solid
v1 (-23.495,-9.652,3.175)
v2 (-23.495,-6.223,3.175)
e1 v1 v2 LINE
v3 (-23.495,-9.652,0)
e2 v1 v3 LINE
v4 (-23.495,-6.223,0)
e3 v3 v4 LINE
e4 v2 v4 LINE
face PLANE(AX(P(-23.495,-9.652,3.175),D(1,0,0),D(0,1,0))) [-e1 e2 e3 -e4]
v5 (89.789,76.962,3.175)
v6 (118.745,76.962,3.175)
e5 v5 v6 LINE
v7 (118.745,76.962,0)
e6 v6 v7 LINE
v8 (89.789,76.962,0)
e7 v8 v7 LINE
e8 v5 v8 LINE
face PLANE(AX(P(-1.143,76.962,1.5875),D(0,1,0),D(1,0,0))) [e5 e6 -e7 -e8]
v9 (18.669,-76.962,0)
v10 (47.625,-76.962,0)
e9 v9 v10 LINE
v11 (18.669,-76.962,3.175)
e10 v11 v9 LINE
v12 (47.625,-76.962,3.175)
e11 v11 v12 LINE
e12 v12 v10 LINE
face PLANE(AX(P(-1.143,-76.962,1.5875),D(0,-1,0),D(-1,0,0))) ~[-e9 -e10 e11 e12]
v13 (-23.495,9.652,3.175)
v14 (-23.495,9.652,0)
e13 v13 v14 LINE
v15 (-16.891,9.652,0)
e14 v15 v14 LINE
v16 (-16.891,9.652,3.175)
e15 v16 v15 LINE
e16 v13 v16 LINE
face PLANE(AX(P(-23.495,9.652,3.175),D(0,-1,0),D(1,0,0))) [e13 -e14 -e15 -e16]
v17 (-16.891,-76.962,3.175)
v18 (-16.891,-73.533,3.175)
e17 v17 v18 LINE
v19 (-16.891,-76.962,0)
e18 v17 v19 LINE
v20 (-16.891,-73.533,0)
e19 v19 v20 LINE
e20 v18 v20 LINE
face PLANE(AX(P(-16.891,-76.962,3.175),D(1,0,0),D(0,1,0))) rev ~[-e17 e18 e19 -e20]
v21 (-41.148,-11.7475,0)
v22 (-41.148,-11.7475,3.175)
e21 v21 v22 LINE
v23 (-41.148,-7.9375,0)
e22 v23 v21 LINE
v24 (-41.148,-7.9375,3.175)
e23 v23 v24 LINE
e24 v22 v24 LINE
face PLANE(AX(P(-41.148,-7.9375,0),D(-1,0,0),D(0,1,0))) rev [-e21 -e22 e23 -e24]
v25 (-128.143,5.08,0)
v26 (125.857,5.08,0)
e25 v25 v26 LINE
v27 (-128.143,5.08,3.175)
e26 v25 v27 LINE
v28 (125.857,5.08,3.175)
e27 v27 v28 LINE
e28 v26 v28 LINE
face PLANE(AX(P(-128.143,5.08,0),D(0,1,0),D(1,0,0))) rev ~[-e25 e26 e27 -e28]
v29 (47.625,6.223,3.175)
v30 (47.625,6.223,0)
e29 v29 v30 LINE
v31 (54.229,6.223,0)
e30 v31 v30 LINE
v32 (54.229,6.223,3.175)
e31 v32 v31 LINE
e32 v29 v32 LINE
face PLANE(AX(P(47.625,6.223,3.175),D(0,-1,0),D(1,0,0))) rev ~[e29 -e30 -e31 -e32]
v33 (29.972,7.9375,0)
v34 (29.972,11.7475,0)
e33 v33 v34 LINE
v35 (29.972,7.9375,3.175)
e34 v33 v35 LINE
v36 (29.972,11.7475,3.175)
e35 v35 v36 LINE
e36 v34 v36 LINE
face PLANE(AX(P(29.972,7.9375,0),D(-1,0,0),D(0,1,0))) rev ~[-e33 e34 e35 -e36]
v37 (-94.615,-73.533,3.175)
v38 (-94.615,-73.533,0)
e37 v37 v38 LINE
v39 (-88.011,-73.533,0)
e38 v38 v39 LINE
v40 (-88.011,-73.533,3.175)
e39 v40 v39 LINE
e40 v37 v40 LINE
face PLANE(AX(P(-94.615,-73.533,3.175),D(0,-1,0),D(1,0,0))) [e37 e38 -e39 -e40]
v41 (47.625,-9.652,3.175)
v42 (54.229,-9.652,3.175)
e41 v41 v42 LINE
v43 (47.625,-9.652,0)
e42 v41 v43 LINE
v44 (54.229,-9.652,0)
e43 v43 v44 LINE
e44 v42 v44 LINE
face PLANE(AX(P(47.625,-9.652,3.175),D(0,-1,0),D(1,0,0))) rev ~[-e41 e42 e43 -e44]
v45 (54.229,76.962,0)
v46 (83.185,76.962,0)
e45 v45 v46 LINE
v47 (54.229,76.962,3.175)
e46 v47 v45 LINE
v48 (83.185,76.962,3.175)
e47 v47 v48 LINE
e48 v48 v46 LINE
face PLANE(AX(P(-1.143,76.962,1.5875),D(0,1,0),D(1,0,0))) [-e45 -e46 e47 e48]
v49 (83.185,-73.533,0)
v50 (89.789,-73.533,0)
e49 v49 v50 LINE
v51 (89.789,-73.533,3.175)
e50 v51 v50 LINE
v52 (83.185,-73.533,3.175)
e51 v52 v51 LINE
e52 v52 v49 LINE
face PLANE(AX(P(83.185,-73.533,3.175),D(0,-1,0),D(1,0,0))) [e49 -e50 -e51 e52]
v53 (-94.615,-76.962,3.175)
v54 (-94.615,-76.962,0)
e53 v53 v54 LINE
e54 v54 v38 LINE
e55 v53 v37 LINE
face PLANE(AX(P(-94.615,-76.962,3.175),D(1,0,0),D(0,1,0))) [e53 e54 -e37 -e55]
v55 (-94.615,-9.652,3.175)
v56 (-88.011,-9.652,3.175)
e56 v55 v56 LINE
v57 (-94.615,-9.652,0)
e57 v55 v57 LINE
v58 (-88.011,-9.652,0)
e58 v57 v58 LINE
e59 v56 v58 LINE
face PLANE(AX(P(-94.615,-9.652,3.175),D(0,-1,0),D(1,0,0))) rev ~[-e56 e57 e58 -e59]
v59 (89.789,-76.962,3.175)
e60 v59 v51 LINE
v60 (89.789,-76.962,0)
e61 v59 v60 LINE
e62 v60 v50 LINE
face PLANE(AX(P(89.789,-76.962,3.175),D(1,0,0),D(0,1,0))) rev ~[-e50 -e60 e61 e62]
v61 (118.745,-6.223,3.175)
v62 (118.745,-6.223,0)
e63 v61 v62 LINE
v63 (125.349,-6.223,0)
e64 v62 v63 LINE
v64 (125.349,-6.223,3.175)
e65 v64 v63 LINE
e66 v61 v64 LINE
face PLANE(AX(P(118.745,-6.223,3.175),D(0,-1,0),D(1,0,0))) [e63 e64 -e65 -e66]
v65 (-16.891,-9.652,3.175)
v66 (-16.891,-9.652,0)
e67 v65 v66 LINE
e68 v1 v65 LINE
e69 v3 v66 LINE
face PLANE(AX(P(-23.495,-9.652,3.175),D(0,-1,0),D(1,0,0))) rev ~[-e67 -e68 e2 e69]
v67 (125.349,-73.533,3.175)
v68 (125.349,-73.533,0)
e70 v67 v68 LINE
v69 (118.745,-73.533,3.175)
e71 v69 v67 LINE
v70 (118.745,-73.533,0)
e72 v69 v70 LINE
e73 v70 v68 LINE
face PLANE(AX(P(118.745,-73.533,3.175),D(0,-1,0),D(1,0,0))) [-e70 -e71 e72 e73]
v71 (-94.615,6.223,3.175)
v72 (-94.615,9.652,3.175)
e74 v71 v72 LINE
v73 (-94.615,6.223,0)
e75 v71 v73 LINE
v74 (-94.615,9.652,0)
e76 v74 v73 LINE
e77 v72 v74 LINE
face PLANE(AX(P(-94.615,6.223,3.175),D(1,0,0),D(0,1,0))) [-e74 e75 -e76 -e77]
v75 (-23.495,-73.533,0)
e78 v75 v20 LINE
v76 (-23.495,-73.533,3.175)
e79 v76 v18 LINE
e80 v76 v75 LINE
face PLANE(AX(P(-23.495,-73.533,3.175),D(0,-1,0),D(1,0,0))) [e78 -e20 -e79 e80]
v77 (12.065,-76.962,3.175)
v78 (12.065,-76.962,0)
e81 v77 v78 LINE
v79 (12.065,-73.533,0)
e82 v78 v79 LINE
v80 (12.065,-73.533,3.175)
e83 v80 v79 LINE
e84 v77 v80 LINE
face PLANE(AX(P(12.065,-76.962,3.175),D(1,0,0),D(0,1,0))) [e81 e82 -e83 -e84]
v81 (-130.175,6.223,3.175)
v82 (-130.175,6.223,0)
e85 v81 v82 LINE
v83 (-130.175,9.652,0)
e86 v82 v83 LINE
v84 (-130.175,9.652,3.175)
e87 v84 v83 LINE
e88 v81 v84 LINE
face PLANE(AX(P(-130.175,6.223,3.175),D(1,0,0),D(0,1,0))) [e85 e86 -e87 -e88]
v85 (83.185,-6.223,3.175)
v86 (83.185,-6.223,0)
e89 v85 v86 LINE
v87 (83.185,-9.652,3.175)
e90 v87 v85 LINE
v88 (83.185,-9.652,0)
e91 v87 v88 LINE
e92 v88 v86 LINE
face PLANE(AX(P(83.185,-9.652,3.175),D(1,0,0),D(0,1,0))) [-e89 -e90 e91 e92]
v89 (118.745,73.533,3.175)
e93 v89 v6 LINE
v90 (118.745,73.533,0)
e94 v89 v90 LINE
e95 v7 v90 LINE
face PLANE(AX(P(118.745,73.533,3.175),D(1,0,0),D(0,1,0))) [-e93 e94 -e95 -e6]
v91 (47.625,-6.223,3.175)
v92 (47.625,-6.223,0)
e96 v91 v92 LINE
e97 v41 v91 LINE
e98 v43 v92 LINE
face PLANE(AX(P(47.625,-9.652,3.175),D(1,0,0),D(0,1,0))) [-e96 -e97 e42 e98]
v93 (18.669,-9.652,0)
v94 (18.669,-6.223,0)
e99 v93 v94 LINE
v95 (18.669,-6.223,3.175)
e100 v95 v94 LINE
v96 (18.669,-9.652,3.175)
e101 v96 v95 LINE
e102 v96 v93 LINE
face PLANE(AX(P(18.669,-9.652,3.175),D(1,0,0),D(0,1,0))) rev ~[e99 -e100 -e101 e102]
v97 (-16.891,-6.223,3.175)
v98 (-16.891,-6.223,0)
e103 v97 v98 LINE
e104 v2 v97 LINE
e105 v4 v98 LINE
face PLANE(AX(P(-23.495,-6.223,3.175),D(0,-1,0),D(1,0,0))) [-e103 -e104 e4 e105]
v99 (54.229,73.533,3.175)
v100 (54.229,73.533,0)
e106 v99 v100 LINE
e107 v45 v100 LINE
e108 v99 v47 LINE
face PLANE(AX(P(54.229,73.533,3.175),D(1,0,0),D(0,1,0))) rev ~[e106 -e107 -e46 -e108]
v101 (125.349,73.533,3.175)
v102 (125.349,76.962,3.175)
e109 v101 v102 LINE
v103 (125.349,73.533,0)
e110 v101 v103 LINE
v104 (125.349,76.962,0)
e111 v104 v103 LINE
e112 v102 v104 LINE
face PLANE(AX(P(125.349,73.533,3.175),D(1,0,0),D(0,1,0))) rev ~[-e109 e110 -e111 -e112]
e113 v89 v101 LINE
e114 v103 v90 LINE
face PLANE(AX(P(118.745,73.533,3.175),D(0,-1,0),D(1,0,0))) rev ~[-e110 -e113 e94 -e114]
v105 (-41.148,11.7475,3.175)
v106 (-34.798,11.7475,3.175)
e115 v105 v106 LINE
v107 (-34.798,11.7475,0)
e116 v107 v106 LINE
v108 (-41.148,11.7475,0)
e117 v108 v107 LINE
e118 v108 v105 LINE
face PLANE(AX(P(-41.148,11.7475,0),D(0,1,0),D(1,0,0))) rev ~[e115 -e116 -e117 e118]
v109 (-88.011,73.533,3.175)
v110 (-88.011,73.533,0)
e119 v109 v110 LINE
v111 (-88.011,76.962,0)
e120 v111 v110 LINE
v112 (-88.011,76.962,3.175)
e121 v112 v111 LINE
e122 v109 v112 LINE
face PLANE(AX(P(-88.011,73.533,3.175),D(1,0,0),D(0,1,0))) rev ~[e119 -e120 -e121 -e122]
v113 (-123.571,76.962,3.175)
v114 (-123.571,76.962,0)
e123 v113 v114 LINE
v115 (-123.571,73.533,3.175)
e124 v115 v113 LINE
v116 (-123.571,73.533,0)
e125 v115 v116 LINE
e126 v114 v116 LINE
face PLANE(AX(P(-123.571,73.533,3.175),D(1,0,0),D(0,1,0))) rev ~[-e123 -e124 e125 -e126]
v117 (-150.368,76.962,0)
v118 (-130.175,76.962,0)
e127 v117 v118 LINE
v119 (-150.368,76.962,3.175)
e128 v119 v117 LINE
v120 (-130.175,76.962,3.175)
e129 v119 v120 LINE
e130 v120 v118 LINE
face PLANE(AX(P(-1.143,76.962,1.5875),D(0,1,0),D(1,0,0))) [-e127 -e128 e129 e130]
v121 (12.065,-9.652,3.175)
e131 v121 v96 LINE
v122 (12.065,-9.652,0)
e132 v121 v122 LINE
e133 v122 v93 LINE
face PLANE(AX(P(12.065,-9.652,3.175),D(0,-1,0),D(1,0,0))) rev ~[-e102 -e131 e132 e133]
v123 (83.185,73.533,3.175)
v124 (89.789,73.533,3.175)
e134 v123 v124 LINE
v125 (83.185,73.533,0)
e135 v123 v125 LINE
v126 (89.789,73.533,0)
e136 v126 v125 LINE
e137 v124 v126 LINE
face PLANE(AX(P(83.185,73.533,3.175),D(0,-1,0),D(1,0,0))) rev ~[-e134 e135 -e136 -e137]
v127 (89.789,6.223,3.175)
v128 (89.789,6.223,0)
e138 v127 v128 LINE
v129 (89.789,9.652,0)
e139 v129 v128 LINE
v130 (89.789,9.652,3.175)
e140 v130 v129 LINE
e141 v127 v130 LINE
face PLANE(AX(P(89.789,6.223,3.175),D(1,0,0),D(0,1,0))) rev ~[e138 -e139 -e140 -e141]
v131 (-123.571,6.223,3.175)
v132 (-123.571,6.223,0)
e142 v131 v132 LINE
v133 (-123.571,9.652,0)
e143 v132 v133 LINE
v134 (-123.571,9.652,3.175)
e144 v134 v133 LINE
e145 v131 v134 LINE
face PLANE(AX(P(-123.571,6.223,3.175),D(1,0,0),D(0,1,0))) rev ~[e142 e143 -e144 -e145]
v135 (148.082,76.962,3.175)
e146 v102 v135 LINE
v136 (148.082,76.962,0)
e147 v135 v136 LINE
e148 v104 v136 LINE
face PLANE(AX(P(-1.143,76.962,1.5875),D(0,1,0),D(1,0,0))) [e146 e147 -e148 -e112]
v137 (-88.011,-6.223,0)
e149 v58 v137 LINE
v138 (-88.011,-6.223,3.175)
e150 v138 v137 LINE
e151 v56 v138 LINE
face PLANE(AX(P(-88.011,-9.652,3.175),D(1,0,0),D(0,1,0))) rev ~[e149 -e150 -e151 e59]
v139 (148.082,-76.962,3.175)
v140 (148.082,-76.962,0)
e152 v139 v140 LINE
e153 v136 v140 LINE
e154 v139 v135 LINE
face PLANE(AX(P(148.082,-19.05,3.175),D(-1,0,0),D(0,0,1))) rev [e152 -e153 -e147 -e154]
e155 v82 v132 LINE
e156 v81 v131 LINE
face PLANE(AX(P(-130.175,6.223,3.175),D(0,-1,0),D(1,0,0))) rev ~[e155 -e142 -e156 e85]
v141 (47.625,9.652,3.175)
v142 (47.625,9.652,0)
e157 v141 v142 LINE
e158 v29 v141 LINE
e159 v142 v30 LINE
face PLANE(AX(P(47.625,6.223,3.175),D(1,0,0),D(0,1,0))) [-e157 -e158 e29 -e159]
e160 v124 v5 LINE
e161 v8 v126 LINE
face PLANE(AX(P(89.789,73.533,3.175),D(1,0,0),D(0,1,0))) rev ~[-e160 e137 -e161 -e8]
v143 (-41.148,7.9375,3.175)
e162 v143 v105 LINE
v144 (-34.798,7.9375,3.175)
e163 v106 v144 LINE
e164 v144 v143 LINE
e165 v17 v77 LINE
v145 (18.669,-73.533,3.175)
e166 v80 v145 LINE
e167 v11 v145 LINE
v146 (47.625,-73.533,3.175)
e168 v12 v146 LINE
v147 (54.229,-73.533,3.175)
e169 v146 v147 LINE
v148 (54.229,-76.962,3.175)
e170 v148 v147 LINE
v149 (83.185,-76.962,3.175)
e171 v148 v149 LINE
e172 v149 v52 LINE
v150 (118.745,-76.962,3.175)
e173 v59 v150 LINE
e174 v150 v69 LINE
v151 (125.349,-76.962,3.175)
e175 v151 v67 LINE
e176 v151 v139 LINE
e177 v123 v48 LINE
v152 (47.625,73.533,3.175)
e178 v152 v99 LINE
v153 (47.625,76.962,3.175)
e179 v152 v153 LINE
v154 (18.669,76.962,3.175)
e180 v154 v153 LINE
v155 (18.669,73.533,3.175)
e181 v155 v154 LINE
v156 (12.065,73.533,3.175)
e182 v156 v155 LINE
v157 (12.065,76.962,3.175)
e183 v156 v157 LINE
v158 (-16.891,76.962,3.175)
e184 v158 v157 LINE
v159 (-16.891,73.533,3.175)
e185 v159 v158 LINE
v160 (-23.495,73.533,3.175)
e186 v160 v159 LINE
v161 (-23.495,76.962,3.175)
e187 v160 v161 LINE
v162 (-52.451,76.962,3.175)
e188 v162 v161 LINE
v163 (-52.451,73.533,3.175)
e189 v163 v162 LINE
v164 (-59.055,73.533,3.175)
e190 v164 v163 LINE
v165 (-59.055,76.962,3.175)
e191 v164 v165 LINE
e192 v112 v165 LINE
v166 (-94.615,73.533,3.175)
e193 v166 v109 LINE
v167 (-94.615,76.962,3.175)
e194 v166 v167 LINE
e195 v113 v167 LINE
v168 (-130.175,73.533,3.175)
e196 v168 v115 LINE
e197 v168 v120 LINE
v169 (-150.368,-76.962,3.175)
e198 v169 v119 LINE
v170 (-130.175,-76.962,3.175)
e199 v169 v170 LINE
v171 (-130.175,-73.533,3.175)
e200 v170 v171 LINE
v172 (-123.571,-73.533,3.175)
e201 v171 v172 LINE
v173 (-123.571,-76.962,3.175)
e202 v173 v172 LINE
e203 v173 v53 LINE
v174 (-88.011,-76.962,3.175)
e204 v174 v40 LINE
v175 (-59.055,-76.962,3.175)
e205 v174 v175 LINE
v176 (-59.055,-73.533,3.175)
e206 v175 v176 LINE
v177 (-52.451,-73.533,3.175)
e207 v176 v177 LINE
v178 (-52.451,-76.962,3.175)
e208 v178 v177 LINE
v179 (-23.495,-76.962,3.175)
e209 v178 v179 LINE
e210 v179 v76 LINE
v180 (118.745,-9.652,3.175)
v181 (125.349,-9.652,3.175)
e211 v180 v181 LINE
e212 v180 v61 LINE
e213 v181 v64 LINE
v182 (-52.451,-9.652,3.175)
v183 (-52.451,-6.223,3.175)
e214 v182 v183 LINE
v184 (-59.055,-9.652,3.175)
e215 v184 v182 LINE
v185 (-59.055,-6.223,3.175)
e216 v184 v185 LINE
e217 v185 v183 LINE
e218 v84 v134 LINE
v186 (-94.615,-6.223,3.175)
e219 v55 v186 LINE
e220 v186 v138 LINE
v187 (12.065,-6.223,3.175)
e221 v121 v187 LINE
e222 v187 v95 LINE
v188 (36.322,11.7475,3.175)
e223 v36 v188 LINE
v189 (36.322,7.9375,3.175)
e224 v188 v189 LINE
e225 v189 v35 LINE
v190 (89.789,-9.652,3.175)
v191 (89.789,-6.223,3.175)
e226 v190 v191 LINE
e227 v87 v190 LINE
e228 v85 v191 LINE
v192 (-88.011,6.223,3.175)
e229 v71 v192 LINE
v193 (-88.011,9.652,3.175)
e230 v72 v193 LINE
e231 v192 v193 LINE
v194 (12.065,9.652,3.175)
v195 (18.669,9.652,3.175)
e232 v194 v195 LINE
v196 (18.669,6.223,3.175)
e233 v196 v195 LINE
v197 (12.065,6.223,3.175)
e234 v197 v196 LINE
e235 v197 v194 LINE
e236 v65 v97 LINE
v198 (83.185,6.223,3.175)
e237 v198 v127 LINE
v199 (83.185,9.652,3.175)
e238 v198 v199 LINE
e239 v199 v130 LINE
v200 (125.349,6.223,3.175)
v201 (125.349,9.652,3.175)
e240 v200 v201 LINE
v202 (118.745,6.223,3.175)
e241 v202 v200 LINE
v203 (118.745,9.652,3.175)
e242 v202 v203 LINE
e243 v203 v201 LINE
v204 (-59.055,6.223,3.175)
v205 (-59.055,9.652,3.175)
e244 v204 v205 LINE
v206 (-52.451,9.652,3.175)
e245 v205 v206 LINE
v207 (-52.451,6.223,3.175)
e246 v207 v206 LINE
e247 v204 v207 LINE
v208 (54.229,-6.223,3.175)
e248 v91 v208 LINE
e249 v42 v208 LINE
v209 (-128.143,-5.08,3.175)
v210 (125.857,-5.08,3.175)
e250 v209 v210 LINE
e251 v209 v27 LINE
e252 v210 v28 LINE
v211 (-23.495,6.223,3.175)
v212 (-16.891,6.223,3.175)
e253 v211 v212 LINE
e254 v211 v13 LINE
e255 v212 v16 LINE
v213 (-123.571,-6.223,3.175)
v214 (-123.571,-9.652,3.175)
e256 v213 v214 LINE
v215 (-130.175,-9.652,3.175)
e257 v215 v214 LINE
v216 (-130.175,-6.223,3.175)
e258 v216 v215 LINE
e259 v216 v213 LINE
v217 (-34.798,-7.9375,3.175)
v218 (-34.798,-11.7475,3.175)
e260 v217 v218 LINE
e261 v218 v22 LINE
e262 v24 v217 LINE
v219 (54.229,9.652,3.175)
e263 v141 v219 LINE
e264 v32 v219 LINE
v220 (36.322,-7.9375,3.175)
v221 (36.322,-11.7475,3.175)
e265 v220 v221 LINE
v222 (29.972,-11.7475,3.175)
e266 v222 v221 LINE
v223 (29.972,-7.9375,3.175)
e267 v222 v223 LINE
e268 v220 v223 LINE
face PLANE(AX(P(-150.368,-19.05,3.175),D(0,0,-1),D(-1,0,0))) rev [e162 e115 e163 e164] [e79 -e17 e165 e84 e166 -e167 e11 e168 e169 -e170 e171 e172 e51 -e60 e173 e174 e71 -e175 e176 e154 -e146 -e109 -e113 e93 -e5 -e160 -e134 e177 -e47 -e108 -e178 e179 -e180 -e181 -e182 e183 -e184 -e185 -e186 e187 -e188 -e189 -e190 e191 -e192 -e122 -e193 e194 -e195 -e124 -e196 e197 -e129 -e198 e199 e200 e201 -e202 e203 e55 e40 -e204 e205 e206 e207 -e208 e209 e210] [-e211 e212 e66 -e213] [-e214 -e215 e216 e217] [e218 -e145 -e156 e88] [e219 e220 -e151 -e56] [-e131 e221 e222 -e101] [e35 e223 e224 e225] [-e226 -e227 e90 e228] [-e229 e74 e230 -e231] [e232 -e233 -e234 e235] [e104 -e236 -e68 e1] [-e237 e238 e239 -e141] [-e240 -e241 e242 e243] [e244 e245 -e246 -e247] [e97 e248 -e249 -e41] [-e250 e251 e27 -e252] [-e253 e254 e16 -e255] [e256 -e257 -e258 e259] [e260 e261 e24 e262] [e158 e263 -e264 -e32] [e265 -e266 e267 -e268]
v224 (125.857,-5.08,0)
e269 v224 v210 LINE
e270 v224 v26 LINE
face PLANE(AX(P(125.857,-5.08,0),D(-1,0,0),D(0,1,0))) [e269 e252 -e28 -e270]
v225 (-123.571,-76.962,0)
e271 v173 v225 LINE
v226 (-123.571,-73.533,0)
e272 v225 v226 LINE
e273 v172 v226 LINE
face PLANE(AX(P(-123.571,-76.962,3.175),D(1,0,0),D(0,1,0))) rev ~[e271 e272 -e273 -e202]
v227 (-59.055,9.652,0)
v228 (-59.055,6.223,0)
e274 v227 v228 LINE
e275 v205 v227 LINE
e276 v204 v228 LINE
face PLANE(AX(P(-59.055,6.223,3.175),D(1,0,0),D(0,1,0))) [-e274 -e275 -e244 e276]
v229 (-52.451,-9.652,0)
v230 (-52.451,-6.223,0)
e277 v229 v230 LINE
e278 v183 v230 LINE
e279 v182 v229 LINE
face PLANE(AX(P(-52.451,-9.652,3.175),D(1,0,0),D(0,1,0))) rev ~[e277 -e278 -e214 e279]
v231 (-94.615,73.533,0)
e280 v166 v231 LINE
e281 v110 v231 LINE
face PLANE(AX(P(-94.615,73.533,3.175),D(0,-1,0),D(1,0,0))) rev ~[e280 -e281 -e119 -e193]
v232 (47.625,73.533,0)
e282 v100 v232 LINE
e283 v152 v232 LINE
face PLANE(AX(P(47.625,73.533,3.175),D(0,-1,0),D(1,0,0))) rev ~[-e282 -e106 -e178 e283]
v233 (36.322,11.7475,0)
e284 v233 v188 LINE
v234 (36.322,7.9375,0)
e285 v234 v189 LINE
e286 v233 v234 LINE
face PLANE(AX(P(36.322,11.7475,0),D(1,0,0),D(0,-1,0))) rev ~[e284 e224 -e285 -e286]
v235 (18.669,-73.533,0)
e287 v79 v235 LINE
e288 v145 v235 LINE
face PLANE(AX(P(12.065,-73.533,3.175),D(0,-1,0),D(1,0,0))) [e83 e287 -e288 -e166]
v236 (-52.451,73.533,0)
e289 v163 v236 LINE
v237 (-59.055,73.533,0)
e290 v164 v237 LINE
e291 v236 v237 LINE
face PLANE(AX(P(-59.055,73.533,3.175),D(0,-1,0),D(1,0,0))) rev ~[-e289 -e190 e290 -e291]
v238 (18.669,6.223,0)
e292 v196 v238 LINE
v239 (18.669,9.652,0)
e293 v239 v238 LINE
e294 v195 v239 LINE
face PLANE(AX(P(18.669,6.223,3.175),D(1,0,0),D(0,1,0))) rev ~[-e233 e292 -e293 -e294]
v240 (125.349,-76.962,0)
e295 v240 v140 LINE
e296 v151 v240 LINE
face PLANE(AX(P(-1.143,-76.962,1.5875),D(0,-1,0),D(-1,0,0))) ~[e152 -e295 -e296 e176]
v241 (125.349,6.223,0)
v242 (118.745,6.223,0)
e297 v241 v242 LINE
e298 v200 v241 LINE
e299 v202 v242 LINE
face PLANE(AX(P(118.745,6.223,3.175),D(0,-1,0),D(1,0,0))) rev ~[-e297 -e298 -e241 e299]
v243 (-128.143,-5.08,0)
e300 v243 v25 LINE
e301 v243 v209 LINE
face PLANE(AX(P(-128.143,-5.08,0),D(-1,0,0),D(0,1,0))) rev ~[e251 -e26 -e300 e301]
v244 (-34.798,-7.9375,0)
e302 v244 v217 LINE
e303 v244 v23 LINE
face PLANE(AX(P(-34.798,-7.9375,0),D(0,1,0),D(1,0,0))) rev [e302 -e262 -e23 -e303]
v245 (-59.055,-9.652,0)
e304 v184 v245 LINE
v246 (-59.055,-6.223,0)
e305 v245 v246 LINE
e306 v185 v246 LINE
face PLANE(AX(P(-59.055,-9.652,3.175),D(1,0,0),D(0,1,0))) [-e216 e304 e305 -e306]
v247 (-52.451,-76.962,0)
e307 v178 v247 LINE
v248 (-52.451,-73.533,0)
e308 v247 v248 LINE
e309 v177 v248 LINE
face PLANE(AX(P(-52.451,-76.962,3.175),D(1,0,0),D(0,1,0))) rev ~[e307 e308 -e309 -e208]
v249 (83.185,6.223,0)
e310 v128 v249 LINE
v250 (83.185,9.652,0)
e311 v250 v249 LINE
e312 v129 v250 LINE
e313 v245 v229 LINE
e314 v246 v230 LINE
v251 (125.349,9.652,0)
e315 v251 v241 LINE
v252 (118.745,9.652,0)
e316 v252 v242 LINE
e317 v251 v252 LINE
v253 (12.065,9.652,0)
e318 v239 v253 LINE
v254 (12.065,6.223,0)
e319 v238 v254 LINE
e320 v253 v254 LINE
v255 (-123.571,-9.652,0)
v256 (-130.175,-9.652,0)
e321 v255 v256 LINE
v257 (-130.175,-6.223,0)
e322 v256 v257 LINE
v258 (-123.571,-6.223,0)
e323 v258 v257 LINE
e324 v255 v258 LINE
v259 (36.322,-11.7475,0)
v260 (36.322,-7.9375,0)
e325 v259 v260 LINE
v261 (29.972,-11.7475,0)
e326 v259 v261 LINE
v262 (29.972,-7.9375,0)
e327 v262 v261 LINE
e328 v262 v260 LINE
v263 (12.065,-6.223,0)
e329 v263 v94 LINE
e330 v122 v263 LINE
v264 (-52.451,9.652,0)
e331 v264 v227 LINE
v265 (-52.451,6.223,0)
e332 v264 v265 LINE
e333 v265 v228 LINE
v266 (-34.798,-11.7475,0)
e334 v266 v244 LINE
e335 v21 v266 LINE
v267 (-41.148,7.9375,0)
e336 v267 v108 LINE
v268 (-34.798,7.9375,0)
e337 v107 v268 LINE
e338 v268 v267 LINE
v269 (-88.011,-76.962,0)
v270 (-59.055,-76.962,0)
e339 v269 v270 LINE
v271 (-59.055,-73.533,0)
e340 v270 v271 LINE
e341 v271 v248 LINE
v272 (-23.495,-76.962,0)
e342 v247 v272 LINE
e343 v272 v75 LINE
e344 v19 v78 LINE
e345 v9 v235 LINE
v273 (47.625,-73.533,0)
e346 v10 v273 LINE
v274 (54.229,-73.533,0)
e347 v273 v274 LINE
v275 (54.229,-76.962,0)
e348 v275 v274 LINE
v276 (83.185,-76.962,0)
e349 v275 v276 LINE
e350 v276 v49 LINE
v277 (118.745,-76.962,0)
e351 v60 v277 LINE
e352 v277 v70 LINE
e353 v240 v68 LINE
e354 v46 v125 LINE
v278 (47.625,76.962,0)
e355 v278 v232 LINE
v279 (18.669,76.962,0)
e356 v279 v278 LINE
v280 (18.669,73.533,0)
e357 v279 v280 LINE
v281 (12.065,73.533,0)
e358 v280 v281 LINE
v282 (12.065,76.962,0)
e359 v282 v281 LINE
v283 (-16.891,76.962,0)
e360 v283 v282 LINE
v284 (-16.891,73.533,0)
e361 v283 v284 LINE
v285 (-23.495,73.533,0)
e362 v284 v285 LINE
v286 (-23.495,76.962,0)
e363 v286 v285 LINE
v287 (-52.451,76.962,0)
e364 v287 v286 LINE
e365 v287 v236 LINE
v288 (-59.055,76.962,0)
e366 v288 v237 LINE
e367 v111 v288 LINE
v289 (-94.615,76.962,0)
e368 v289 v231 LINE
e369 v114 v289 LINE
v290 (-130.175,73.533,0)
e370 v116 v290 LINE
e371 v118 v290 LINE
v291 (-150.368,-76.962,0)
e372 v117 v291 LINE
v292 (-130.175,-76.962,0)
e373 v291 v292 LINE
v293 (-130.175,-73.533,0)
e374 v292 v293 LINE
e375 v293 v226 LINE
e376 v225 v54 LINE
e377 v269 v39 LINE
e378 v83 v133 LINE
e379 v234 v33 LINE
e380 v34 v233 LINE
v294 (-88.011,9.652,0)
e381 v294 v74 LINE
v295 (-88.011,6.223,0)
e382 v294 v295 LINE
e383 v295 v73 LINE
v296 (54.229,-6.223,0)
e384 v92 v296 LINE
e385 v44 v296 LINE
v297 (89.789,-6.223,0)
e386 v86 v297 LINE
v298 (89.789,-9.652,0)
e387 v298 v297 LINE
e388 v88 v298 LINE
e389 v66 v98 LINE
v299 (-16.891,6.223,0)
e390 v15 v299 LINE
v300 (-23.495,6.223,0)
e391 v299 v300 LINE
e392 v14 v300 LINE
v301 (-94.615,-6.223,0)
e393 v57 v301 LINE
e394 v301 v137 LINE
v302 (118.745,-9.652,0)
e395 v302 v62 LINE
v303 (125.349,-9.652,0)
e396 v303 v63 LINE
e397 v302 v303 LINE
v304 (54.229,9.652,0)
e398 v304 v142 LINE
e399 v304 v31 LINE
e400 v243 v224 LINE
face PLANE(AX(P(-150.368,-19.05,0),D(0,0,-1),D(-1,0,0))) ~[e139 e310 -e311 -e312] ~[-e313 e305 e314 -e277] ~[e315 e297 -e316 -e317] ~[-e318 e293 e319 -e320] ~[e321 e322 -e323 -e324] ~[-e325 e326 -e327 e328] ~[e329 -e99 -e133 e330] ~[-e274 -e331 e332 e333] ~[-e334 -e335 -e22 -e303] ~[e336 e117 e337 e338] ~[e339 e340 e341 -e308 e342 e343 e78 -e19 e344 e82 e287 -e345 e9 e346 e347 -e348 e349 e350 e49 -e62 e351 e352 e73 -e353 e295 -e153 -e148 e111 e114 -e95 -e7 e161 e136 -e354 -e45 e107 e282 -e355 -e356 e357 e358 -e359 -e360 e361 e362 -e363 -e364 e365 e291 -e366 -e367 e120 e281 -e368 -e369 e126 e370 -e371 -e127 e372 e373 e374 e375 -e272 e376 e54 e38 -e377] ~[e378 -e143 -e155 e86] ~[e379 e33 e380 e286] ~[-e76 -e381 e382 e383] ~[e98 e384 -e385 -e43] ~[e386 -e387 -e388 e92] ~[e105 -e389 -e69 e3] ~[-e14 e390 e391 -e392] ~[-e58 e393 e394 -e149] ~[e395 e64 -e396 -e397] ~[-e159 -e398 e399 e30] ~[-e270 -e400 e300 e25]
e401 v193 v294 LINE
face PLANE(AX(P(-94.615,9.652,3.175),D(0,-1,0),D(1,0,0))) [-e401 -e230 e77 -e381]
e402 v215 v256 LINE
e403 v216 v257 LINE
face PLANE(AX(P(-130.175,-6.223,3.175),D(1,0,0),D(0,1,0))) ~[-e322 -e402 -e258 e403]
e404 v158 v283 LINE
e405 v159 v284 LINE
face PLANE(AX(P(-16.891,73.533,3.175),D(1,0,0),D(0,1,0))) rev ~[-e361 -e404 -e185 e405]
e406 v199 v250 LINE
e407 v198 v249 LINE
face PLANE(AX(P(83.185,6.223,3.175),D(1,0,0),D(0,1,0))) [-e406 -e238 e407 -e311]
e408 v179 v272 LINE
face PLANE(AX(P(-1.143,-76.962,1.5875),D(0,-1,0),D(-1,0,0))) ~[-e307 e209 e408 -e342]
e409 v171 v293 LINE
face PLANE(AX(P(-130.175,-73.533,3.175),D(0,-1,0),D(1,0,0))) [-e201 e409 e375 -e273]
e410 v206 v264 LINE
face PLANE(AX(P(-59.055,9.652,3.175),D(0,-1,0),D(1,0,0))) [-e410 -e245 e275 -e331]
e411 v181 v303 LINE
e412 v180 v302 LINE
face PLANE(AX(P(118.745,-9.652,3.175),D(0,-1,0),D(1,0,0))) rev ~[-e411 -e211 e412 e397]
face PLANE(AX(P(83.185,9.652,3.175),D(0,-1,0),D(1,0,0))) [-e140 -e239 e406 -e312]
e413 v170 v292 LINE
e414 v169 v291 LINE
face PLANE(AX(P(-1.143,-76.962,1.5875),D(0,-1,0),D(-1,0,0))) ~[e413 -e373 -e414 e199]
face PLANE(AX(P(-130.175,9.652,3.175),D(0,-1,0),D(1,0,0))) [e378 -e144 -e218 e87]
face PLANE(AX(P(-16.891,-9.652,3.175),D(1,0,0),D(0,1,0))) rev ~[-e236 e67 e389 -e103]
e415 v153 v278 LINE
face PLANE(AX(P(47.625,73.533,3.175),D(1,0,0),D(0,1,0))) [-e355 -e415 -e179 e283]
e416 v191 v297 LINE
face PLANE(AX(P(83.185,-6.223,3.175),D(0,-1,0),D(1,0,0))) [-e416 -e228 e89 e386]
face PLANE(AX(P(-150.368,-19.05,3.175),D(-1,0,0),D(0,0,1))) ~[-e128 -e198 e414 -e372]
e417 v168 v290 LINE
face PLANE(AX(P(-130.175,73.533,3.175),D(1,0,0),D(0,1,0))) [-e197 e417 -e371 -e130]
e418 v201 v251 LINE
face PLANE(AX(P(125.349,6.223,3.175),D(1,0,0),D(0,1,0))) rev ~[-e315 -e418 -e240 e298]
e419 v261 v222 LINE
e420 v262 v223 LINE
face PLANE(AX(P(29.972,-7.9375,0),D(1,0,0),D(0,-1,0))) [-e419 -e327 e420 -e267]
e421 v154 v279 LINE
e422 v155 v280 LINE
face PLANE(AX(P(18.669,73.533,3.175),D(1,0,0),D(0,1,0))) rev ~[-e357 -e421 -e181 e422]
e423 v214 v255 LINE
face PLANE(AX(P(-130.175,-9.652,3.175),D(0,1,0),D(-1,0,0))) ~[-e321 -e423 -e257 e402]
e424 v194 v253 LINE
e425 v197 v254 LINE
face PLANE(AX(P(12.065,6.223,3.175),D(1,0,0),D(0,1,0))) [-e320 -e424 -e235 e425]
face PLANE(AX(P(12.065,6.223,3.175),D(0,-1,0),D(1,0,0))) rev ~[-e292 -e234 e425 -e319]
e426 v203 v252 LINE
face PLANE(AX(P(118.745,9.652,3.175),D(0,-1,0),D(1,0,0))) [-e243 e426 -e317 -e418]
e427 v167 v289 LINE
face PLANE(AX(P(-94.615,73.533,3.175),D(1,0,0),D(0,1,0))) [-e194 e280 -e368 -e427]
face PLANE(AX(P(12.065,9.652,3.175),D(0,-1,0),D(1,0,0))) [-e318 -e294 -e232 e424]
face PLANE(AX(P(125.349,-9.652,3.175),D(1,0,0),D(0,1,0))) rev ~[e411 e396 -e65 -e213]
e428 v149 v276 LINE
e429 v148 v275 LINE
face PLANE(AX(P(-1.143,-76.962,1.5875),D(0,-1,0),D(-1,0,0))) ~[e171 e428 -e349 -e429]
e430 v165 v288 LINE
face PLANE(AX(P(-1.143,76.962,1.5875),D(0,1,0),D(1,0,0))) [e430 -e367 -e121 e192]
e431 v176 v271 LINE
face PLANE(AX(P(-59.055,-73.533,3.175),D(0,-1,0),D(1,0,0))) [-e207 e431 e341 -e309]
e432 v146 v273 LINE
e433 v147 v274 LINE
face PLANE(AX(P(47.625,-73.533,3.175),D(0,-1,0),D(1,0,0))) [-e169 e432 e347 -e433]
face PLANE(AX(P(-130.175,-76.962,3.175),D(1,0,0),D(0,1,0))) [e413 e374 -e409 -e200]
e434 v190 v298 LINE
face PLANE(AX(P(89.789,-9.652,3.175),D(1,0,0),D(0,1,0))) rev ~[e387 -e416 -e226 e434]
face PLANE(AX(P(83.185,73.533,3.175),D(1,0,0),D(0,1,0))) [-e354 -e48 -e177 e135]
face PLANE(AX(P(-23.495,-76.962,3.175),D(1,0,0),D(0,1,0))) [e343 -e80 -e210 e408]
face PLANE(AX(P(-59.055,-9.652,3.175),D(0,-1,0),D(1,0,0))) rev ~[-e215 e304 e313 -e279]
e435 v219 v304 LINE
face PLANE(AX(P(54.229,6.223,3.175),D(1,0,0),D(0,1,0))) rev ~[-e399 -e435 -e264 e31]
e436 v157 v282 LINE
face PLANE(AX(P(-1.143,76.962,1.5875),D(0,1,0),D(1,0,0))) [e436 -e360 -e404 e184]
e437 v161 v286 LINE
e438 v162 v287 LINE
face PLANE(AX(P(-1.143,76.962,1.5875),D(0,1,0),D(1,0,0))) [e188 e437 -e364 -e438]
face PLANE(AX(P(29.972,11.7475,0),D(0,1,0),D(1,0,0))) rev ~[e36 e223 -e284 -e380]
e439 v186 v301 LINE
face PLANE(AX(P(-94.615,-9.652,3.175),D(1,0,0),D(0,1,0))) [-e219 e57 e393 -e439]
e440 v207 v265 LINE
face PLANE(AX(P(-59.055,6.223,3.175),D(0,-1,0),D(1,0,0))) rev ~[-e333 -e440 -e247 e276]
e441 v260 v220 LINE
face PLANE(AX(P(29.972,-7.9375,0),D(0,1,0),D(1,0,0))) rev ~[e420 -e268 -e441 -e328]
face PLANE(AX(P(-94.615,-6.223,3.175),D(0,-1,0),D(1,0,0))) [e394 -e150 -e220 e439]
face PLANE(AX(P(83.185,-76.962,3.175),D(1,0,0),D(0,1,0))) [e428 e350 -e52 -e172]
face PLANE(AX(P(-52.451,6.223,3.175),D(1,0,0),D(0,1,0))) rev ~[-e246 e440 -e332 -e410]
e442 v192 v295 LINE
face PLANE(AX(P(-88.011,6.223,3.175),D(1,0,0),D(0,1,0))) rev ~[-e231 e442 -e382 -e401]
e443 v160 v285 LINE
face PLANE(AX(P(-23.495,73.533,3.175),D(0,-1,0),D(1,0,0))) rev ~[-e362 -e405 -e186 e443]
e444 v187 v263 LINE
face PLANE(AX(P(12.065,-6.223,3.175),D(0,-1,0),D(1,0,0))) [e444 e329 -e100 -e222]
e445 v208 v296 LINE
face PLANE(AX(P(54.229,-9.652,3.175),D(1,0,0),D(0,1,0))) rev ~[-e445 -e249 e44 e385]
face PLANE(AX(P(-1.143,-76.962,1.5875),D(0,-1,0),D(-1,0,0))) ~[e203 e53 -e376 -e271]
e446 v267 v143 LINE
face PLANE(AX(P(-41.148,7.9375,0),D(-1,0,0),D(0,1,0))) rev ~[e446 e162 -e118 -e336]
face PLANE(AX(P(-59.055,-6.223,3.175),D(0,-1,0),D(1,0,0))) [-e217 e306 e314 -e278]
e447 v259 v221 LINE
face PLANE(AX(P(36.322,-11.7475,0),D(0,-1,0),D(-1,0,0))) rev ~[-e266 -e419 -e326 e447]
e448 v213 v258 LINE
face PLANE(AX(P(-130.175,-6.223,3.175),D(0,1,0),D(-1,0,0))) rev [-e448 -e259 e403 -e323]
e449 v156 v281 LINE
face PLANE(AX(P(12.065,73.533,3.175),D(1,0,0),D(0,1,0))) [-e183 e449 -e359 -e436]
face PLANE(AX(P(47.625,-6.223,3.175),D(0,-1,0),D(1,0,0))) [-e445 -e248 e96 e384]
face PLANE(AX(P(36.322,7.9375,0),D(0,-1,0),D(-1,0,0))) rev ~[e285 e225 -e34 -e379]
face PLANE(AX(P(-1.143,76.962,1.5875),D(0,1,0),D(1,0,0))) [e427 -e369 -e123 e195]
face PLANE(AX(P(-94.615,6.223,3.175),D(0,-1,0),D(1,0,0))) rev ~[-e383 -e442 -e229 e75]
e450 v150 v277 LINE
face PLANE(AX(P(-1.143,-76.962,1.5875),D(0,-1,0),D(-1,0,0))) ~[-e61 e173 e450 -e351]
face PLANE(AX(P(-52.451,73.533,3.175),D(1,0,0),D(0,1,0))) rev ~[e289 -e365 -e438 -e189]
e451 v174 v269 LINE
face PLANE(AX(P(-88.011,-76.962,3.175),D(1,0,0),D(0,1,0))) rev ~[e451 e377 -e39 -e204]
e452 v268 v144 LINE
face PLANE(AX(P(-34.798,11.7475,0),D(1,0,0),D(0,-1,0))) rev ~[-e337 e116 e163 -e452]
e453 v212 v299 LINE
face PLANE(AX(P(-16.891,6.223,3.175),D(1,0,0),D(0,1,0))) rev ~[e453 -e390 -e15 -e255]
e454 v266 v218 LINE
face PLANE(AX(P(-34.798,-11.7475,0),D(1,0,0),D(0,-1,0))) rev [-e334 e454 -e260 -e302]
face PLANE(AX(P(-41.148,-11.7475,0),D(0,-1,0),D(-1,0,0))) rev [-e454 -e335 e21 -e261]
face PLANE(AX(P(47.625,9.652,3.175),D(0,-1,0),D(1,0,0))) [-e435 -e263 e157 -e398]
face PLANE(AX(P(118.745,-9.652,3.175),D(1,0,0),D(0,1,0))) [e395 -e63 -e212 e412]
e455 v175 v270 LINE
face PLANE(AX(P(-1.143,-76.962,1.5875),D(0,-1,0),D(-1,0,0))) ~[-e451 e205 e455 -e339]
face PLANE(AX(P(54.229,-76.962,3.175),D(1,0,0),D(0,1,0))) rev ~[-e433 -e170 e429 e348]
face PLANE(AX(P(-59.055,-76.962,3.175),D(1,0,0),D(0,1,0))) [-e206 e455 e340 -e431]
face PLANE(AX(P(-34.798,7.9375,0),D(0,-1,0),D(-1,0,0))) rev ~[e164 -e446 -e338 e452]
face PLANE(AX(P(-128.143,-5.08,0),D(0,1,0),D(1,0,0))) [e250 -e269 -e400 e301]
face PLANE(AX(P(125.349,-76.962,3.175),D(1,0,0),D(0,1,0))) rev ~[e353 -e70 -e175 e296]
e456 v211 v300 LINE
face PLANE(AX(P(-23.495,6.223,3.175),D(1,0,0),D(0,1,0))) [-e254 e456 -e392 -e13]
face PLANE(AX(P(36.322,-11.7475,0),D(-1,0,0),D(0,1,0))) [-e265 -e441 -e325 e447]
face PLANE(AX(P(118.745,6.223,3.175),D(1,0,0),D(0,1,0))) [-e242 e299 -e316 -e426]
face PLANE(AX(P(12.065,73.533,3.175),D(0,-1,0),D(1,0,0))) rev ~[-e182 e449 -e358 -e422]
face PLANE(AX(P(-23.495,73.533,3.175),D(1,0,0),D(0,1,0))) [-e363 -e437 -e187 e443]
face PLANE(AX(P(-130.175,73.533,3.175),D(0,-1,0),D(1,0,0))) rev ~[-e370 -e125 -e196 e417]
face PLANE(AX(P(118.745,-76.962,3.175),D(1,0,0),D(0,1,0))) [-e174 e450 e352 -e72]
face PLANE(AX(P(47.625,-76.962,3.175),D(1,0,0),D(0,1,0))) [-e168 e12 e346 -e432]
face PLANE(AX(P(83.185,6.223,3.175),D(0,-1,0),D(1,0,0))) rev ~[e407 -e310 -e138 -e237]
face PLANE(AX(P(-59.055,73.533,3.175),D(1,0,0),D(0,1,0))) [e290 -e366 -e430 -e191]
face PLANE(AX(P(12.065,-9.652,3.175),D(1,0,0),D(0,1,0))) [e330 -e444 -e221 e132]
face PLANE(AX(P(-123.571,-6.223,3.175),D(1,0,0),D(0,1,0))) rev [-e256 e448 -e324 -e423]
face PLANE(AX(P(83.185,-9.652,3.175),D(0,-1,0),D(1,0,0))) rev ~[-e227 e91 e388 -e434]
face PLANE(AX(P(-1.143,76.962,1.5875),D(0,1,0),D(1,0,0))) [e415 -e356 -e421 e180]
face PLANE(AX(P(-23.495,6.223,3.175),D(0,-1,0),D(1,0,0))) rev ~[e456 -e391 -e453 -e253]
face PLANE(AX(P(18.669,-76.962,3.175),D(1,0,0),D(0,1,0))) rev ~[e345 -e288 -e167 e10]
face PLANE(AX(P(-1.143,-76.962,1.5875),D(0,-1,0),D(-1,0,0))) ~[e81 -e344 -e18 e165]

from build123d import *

# Parameters (mm, degrees)
SKETCH4_W                = 298.45
SKETCH4_H                = 38.1
SKETCH4_W_2              = 254
SKETCH4_H_2              = 10.16
BOSS_EXTRUDE1_DEPTH      = 3.175
SKETCH5_W                = 6.604
SKETCH5_H                = 3.429
CUT_EXTRUDE1_DEPTH       = 152.603161408
SKETCH7_W                = 298.45
SKETCH7_H                = 3.175
BOSS_EXTRUDE2_DEPTH      = 57.912
LPATTERN3_COUNT          = 2
LPATTERN3_PITCH          = 67.31
LPATTERN3_COUNT_DIR2     = 8
LPATTERN3_PITCH_DIR2     = 35.56
CUT_EXTRUDE2_DEPTH       = 169.94900264
LPATTERN2_COUNT          = 2
LPATTERN2_PITCH          = 71.12
MIRROR1_COPY_1_SKETCH_W  = 6.604
MIRROR1_COPY_1_SKETCH_H  = 3.429
MIRROR1_COPY_1_DEPTH     = 152.603161408
MIRROR1_COPY_2_SKETCH_W  = 6.604
MIRROR1_COPY_2_SKETCH_H  = 3.429
MIRROR1_COPY_2_DEPTH     = 152.603161408
MIRROR1_COPY_3_SKETCH_W  = 6.604
MIRROR1_COPY_3_SKETCH_H  = 3.429
MIRROR1_COPY_3_DEPTH     = 152.603161408
MIRROR1_COPY_4_SKETCH_W  = 6.604
MIRROR1_COPY_4_SKETCH_H  = 3.429
MIRROR1_COPY_4_DEPTH     = 152.603161408
MIRROR1_COPY_5_SKETCH_W  = 6.604
MIRROR1_COPY_5_SKETCH_H  = 3.429
MIRROR1_COPY_5_DEPTH     = 152.603161408
MIRROR1_COPY_6_SKETCH_W  = 6.604
MIRROR1_COPY_6_SKETCH_H  = 3.429
MIRROR1_COPY_6_DEPTH     = 152.603161408
MIRROR1_COPY_7_SKETCH_W  = 6.604
MIRROR1_COPY_7_SKETCH_H  = 3.429
MIRROR1_COPY_7_DEPTH     = 152.603161408
MIRROR1_COPY_8_SKETCH_W  = 6.604
MIRROR1_COPY_8_SKETCH_H  = 3.429
MIRROR1_COPY_8_DEPTH     = 152.603161408
MIRROR1_COPY_9_SKETCH_W  = 6.604
MIRROR1_COPY_9_SKETCH_H  = 3.429
MIRROR1_COPY_9_DEPTH     = 152.603161408
MIRROR1_COPY_10_SKETCH_W = 6.604
MIRROR1_COPY_10_SKETCH_H = 3.429
MIRROR1_COPY_10_DEPTH    = 152.603161408
MIRROR1_COPY_11_SKETCH_W = 6.604
MIRROR1_COPY_11_SKETCH_H = 3.429
MIRROR1_COPY_11_DEPTH    = 152.603161408
MIRROR1_COPY_12_SKETCH_W = 6.604
MIRROR1_COPY_12_SKETCH_H = 3.429
MIRROR1_COPY_12_DEPTH    = 152.603161408
MIRROR1_COPY_13_SKETCH_W = 6.604
MIRROR1_COPY_13_SKETCH_H = 3.429
MIRROR1_COPY_13_DEPTH    = 152.603161408
MIRROR1_COPY_14_SKETCH_W = 6.604
MIRROR1_COPY_14_SKETCH_H = 3.429
MIRROR1_COPY_14_DEPTH    = 152.603161408
MIRROR1_COPY_15_SKETCH_W = 6.604
MIRROR1_COPY_15_SKETCH_H = 3.429
MIRROR1_COPY_15_DEPTH    = 152.603161408
MIRROR1_COPY_16_DEPTH    = 169.94900264


with BuildPart() as part:
    # Sketch4 → Boss-Extrude1 (new body)
    with BuildSketch(Plane.XY):
        with Locations((-1.143, 0)):
            Rectangle(SKETCH4_W, SKETCH4_H)
        with Locations((-1.143, 0)):
            Rectangle(SKETCH4_W_2, SKETCH4_H_2, mode=Mode.SUBTRACT)
    extrude(amount=BOSS_EXTRUDE1_DEPTH)

    # Sketch5 → Cut-Extrude1 (cut, through all)
    with BuildSketch(Plane.XY.offset(3.175)):
        with Locations((-126.873, 7.9375)):
            Rectangle(SKETCH5_W, SKETCH5_H)
    cut_extrude1 = extrude(amount=-CUT_EXTRUDE1_DEPTH, mode=Mode.SUBTRACT)

    # Sketch7 → Boss-Extrude2 (add)
    with BuildSketch(Plane(origin=(0, 19.05, 0), x_dir=(1, 0, 0), z_dir=(0, 1, 0))):
        with Locations((-1.143, -1.5875)):
            Rectangle(SKETCH7_W, SKETCH7_H)
    boss_extrude2 = extrude(amount=BOSS_EXTRUDE2_DEPTH)

    # LPattern3: Cut-Extrude1 2 × 8
    with Locations(*[(j * LPATTERN3_PITCH_DIR2, i * LPATTERN3_PITCH, 0) for i in range(LPATTERN3_COUNT) for j in range(LPATTERN3_COUNT_DIR2) if (i, j) != (0, 0)]):
        add(cut_extrude1, mode=Mode.SUBTRACT)

    # Sketch6 → Cut-Extrude2 (cut, through all)
    with BuildSketch(Plane(origin=(0, 0, 0), x_dir=(-1, 0, 0), z_dir=(0, 0, -1))):
        Polygon((37.973, 7.9375), (41.148, 7.9375), (41.148, 11.7475), (37.973, 11.7475), (34.798, 11.7475), (34.798, 7.9375), align=None)
    cut_extrude2 = extrude(amount=-CUT_EXTRUDE2_DEPTH, mode=Mode.SUBTRACT)

    # LPattern2: Cut-Extrude2 ×2
    with Locations(*[(i * LPATTERN2_PITCH, 0, 0) for i in range(1, LPATTERN2_COUNT)]):
        add(cut_extrude2, mode=Mode.SUBTRACT)

    # Mirror1: Cut-Extrude1, Boss-Extrude2, Cut-Extrude2 across plane
    add(cut_extrude1.mirror(Plane.ZX), mode=Mode.SUBTRACT)
    add(boss_extrude2.mirror(Plane.ZX))
    add(cut_extrude2.mirror(Plane.ZX), mode=Mode.SUBTRACT)

    # Mirror1 copy 1 sketch → Mirror1 copy 1 (cut, through all)
    with BuildSketch(Plane(origin=(35.56, 0, 3.175), x_dir=(1, 0, 0), z_dir=(0, 0, 1))):
        with Locations((-126.873, -7.9375)):
            Rectangle(MIRROR1_COPY_1_SKETCH_W, MIRROR1_COPY_1_SKETCH_H)
    extrude(amount=-MIRROR1_COPY_1_DEPTH, mode=Mode.SUBTRACT)

    # Mirror1 copy 2 sketch → Mirror1 copy 2 (cut, through all)
    with BuildSketch(Plane(origin=(71.12, 0, 3.175), x_dir=(1, 0, 0), z_dir=(0, 0, 1))):
        with Locations((-126.873, -7.9375)):
            Rectangle(MIRROR1_COPY_2_SKETCH_W, MIRROR1_COPY_2_SKETCH_H)
    extrude(amount=-MIRROR1_COPY_2_DEPTH, mode=Mode.SUBTRACT)

    # Mirror1 copy 3 sketch → Mirror1 copy 3 (cut, through all)
    with BuildSketch(Plane(origin=(106.68, 0, 3.175), x_dir=(1, 0, 0), z_dir=(0, 0, 1))):
        with Locations((-126.873, -7.9375)):
            Rectangle(MIRROR1_COPY_3_SKETCH_W, MIRROR1_COPY_3_SKETCH_H)
    extrude(amount=-MIRROR1_COPY_3_DEPTH, mode=Mode.SUBTRACT)

    # Mirror1 copy 4 sketch → Mirror1 copy 4 (cut, through all)
    with BuildSketch(Plane(origin=(142.24, 0, 3.175), x_dir=(1, 0, 0), z_dir=(0, 0, 1))):
        with Locations((-126.873, -7.9375)):
            Rectangle(MIRROR1_COPY_4_SKETCH_W, MIRROR1_COPY_4_SKETCH_H)
    extrude(amount=-MIRROR1_COPY_4_DEPTH, mode=Mode.SUBTRACT)

    # Mirror1 copy 5 sketch → Mirror1 copy 5 (cut, through all)
    with BuildSketch(Plane(origin=(177.8, 0, 3.175), x_dir=(1, 0, 0), z_dir=(0, 0, 1))):
        with Locations((-126.873, -7.9375)):
            Rectangle(MIRROR1_COPY_5_SKETCH_W, MIRROR1_COPY_5_SKETCH_H)
    extrude(amount=-MIRROR1_COPY_5_DEPTH, mode=Mode.SUBTRACT)

    # Mirror1 copy 6 sketch → Mirror1 copy 6 (cut, through all)
    with BuildSketch(Plane(origin=(213.36, 0, 3.175), x_dir=(1, 0, 0), z_dir=(0, 0, 1))):
        with Locations((-126.873, -7.9375)):
            Rectangle(MIRROR1_COPY_6_SKETCH_W, MIRROR1_COPY_6_SKETCH_H)
    extrude(amount=-MIRROR1_COPY_6_DEPTH, mode=Mode.SUBTRACT)

    # Mirror1 copy 7 sketch → Mirror1 copy 7 (cut, through all)
    with BuildSketch(Plane(origin=(248.92, 0, 3.175), x_dir=(1, 0, 0), z_dir=(0, 0, 1))):
        with Locations((-126.873, -7.9375)):
            Rectangle(MIRROR1_COPY_7_SKETCH_W, MIRROR1_COPY_7_SKETCH_H)
    extrude(amount=-MIRROR1_COPY_7_DEPTH, mode=Mode.SUBTRACT)

    # Mirror1 copy 8 sketch → Mirror1 copy 8 (cut, through all)
    with BuildSketch(Plane(origin=(0, -67.31, 3.175), x_dir=(1, 0, 0), z_dir=(0, 0, 1))):
        with Locations((-126.873, -7.9375)):
            Rectangle(MIRROR1_COPY_8_SKETCH_W, MIRROR1_COPY_8_SKETCH_H)
    extrude(amount=-MIRROR1_COPY_8_DEPTH, mode=Mode.SUBTRACT)

    # Mirror1 copy 9 sketch → Mirror1 copy 9 (cut, through all)
    with BuildSketch(Plane(origin=(35.56, -67.31, 3.175), x_dir=(1, 0, 0), z_dir=(0, 0, 1))):
        with Locations((-126.873, -7.9375)):
            Rectangle(MIRROR1_COPY_9_SKETCH_W, MIRROR1_COPY_9_SKETCH_H)
    extrude(amount=-MIRROR1_COPY_9_DEPTH, mode=Mode.SUBTRACT)

    # Mirror1 copy 10 sketch → Mirror1 copy 10 (cut, through all)
    with BuildSketch(Plane(origin=(71.12, -67.31, 3.175), x_dir=(1, 0, 0), z_dir=(0, 0, 1))):
        with Locations((-126.873, -7.9375)):
            Rectangle(MIRROR1_COPY_10_SKETCH_W, MIRROR1_COPY_10_SKETCH_H)
    extrude(amount=-MIRROR1_COPY_10_DEPTH, mode=Mode.SUBTRACT)

    # Mirror1 copy 11 sketch → Mirror1 copy 11 (cut, through all)
    with BuildSketch(Plane(origin=(106.68, -67.31, 3.175), x_dir=(1, 0, 0), z_dir=(0, 0, 1))):
        with Locations((-126.873, -7.9375)):
            Rectangle(MIRROR1_COPY_11_SKETCH_W, MIRROR1_COPY_11_SKETCH_H)
    extrude(amount=-MIRROR1_COPY_11_DEPTH, mode=Mode.SUBTRACT)

    # Mirror1 copy 12 sketch → Mirror1 copy 12 (cut, through all)
    with BuildSketch(Plane(origin=(142.24, -67.31, 3.175), x_dir=(1, 0, 0), z_dir=(0, 0, 1))):
        with Locations((-126.873, -7.9375)):
            Rectangle(MIRROR1_COPY_12_SKETCH_W, MIRROR1_COPY_12_SKETCH_H)
    extrude(amount=-MIRROR1_COPY_12_DEPTH, mode=Mode.SUBTRACT)

    # Mirror1 copy 13 sketch → Mirror1 copy 13 (cut, through all)
    with BuildSketch(Plane(origin=(177.8, -67.31, 3.175), x_dir=(1, 0, 0), z_dir=(0, 0, 1))):
        with Locations((-126.873, -7.9375)):
            Rectangle(MIRROR1_COPY_13_SKETCH_W, MIRROR1_COPY_13_SKETCH_H)
    extrude(amount=-MIRROR1_COPY_13_DEPTH, mode=Mode.SUBTRACT)

    # Mirror1 copy 14 sketch → Mirror1 copy 14 (cut, through all)
    with BuildSketch(Plane(origin=(213.36, -67.31, 3.175), x_dir=(1, 0, 0), z_dir=(0, 0, 1))):
        with Locations((-126.873, -7.9375)):
            Rectangle(MIRROR1_COPY_14_SKETCH_W, MIRROR1_COPY_14_SKETCH_H)
    extrude(amount=-MIRROR1_COPY_14_DEPTH, mode=Mode.SUBTRACT)

    # Mirror1 copy 15 sketch → Mirror1 copy 15 (cut, through all)
    with BuildSketch(Plane(origin=(248.92, -67.31, 3.175), x_dir=(1, 0, 0), z_dir=(0, 0, 1))):
        with Locations((-126.873, -7.9375)):
            Rectangle(MIRROR1_COPY_15_SKETCH_W, MIRROR1_COPY_15_SKETCH_H)
    extrude(amount=-MIRROR1_COPY_15_DEPTH, mode=Mode.SUBTRACT)

    # Mirror1 copy 16 sketch → Mirror1 copy 16 (cut, through all)
    with BuildSketch(Plane(origin=(71.12, 0, 0), x_dir=(-1, 0, 0), z_dir=(0, 0, -1))):
        Polygon((37.973, -7.9375), (41.148, -7.9375), (41.148, -11.7475), (37.973, -11.7475), (34.798, -11.7475), (34.798, -7.9375), align=None)
    extrude(amount=-MIRROR1_COPY_16_DEPTH, mode=Mode.SUBTRACT)


solid = part.part
